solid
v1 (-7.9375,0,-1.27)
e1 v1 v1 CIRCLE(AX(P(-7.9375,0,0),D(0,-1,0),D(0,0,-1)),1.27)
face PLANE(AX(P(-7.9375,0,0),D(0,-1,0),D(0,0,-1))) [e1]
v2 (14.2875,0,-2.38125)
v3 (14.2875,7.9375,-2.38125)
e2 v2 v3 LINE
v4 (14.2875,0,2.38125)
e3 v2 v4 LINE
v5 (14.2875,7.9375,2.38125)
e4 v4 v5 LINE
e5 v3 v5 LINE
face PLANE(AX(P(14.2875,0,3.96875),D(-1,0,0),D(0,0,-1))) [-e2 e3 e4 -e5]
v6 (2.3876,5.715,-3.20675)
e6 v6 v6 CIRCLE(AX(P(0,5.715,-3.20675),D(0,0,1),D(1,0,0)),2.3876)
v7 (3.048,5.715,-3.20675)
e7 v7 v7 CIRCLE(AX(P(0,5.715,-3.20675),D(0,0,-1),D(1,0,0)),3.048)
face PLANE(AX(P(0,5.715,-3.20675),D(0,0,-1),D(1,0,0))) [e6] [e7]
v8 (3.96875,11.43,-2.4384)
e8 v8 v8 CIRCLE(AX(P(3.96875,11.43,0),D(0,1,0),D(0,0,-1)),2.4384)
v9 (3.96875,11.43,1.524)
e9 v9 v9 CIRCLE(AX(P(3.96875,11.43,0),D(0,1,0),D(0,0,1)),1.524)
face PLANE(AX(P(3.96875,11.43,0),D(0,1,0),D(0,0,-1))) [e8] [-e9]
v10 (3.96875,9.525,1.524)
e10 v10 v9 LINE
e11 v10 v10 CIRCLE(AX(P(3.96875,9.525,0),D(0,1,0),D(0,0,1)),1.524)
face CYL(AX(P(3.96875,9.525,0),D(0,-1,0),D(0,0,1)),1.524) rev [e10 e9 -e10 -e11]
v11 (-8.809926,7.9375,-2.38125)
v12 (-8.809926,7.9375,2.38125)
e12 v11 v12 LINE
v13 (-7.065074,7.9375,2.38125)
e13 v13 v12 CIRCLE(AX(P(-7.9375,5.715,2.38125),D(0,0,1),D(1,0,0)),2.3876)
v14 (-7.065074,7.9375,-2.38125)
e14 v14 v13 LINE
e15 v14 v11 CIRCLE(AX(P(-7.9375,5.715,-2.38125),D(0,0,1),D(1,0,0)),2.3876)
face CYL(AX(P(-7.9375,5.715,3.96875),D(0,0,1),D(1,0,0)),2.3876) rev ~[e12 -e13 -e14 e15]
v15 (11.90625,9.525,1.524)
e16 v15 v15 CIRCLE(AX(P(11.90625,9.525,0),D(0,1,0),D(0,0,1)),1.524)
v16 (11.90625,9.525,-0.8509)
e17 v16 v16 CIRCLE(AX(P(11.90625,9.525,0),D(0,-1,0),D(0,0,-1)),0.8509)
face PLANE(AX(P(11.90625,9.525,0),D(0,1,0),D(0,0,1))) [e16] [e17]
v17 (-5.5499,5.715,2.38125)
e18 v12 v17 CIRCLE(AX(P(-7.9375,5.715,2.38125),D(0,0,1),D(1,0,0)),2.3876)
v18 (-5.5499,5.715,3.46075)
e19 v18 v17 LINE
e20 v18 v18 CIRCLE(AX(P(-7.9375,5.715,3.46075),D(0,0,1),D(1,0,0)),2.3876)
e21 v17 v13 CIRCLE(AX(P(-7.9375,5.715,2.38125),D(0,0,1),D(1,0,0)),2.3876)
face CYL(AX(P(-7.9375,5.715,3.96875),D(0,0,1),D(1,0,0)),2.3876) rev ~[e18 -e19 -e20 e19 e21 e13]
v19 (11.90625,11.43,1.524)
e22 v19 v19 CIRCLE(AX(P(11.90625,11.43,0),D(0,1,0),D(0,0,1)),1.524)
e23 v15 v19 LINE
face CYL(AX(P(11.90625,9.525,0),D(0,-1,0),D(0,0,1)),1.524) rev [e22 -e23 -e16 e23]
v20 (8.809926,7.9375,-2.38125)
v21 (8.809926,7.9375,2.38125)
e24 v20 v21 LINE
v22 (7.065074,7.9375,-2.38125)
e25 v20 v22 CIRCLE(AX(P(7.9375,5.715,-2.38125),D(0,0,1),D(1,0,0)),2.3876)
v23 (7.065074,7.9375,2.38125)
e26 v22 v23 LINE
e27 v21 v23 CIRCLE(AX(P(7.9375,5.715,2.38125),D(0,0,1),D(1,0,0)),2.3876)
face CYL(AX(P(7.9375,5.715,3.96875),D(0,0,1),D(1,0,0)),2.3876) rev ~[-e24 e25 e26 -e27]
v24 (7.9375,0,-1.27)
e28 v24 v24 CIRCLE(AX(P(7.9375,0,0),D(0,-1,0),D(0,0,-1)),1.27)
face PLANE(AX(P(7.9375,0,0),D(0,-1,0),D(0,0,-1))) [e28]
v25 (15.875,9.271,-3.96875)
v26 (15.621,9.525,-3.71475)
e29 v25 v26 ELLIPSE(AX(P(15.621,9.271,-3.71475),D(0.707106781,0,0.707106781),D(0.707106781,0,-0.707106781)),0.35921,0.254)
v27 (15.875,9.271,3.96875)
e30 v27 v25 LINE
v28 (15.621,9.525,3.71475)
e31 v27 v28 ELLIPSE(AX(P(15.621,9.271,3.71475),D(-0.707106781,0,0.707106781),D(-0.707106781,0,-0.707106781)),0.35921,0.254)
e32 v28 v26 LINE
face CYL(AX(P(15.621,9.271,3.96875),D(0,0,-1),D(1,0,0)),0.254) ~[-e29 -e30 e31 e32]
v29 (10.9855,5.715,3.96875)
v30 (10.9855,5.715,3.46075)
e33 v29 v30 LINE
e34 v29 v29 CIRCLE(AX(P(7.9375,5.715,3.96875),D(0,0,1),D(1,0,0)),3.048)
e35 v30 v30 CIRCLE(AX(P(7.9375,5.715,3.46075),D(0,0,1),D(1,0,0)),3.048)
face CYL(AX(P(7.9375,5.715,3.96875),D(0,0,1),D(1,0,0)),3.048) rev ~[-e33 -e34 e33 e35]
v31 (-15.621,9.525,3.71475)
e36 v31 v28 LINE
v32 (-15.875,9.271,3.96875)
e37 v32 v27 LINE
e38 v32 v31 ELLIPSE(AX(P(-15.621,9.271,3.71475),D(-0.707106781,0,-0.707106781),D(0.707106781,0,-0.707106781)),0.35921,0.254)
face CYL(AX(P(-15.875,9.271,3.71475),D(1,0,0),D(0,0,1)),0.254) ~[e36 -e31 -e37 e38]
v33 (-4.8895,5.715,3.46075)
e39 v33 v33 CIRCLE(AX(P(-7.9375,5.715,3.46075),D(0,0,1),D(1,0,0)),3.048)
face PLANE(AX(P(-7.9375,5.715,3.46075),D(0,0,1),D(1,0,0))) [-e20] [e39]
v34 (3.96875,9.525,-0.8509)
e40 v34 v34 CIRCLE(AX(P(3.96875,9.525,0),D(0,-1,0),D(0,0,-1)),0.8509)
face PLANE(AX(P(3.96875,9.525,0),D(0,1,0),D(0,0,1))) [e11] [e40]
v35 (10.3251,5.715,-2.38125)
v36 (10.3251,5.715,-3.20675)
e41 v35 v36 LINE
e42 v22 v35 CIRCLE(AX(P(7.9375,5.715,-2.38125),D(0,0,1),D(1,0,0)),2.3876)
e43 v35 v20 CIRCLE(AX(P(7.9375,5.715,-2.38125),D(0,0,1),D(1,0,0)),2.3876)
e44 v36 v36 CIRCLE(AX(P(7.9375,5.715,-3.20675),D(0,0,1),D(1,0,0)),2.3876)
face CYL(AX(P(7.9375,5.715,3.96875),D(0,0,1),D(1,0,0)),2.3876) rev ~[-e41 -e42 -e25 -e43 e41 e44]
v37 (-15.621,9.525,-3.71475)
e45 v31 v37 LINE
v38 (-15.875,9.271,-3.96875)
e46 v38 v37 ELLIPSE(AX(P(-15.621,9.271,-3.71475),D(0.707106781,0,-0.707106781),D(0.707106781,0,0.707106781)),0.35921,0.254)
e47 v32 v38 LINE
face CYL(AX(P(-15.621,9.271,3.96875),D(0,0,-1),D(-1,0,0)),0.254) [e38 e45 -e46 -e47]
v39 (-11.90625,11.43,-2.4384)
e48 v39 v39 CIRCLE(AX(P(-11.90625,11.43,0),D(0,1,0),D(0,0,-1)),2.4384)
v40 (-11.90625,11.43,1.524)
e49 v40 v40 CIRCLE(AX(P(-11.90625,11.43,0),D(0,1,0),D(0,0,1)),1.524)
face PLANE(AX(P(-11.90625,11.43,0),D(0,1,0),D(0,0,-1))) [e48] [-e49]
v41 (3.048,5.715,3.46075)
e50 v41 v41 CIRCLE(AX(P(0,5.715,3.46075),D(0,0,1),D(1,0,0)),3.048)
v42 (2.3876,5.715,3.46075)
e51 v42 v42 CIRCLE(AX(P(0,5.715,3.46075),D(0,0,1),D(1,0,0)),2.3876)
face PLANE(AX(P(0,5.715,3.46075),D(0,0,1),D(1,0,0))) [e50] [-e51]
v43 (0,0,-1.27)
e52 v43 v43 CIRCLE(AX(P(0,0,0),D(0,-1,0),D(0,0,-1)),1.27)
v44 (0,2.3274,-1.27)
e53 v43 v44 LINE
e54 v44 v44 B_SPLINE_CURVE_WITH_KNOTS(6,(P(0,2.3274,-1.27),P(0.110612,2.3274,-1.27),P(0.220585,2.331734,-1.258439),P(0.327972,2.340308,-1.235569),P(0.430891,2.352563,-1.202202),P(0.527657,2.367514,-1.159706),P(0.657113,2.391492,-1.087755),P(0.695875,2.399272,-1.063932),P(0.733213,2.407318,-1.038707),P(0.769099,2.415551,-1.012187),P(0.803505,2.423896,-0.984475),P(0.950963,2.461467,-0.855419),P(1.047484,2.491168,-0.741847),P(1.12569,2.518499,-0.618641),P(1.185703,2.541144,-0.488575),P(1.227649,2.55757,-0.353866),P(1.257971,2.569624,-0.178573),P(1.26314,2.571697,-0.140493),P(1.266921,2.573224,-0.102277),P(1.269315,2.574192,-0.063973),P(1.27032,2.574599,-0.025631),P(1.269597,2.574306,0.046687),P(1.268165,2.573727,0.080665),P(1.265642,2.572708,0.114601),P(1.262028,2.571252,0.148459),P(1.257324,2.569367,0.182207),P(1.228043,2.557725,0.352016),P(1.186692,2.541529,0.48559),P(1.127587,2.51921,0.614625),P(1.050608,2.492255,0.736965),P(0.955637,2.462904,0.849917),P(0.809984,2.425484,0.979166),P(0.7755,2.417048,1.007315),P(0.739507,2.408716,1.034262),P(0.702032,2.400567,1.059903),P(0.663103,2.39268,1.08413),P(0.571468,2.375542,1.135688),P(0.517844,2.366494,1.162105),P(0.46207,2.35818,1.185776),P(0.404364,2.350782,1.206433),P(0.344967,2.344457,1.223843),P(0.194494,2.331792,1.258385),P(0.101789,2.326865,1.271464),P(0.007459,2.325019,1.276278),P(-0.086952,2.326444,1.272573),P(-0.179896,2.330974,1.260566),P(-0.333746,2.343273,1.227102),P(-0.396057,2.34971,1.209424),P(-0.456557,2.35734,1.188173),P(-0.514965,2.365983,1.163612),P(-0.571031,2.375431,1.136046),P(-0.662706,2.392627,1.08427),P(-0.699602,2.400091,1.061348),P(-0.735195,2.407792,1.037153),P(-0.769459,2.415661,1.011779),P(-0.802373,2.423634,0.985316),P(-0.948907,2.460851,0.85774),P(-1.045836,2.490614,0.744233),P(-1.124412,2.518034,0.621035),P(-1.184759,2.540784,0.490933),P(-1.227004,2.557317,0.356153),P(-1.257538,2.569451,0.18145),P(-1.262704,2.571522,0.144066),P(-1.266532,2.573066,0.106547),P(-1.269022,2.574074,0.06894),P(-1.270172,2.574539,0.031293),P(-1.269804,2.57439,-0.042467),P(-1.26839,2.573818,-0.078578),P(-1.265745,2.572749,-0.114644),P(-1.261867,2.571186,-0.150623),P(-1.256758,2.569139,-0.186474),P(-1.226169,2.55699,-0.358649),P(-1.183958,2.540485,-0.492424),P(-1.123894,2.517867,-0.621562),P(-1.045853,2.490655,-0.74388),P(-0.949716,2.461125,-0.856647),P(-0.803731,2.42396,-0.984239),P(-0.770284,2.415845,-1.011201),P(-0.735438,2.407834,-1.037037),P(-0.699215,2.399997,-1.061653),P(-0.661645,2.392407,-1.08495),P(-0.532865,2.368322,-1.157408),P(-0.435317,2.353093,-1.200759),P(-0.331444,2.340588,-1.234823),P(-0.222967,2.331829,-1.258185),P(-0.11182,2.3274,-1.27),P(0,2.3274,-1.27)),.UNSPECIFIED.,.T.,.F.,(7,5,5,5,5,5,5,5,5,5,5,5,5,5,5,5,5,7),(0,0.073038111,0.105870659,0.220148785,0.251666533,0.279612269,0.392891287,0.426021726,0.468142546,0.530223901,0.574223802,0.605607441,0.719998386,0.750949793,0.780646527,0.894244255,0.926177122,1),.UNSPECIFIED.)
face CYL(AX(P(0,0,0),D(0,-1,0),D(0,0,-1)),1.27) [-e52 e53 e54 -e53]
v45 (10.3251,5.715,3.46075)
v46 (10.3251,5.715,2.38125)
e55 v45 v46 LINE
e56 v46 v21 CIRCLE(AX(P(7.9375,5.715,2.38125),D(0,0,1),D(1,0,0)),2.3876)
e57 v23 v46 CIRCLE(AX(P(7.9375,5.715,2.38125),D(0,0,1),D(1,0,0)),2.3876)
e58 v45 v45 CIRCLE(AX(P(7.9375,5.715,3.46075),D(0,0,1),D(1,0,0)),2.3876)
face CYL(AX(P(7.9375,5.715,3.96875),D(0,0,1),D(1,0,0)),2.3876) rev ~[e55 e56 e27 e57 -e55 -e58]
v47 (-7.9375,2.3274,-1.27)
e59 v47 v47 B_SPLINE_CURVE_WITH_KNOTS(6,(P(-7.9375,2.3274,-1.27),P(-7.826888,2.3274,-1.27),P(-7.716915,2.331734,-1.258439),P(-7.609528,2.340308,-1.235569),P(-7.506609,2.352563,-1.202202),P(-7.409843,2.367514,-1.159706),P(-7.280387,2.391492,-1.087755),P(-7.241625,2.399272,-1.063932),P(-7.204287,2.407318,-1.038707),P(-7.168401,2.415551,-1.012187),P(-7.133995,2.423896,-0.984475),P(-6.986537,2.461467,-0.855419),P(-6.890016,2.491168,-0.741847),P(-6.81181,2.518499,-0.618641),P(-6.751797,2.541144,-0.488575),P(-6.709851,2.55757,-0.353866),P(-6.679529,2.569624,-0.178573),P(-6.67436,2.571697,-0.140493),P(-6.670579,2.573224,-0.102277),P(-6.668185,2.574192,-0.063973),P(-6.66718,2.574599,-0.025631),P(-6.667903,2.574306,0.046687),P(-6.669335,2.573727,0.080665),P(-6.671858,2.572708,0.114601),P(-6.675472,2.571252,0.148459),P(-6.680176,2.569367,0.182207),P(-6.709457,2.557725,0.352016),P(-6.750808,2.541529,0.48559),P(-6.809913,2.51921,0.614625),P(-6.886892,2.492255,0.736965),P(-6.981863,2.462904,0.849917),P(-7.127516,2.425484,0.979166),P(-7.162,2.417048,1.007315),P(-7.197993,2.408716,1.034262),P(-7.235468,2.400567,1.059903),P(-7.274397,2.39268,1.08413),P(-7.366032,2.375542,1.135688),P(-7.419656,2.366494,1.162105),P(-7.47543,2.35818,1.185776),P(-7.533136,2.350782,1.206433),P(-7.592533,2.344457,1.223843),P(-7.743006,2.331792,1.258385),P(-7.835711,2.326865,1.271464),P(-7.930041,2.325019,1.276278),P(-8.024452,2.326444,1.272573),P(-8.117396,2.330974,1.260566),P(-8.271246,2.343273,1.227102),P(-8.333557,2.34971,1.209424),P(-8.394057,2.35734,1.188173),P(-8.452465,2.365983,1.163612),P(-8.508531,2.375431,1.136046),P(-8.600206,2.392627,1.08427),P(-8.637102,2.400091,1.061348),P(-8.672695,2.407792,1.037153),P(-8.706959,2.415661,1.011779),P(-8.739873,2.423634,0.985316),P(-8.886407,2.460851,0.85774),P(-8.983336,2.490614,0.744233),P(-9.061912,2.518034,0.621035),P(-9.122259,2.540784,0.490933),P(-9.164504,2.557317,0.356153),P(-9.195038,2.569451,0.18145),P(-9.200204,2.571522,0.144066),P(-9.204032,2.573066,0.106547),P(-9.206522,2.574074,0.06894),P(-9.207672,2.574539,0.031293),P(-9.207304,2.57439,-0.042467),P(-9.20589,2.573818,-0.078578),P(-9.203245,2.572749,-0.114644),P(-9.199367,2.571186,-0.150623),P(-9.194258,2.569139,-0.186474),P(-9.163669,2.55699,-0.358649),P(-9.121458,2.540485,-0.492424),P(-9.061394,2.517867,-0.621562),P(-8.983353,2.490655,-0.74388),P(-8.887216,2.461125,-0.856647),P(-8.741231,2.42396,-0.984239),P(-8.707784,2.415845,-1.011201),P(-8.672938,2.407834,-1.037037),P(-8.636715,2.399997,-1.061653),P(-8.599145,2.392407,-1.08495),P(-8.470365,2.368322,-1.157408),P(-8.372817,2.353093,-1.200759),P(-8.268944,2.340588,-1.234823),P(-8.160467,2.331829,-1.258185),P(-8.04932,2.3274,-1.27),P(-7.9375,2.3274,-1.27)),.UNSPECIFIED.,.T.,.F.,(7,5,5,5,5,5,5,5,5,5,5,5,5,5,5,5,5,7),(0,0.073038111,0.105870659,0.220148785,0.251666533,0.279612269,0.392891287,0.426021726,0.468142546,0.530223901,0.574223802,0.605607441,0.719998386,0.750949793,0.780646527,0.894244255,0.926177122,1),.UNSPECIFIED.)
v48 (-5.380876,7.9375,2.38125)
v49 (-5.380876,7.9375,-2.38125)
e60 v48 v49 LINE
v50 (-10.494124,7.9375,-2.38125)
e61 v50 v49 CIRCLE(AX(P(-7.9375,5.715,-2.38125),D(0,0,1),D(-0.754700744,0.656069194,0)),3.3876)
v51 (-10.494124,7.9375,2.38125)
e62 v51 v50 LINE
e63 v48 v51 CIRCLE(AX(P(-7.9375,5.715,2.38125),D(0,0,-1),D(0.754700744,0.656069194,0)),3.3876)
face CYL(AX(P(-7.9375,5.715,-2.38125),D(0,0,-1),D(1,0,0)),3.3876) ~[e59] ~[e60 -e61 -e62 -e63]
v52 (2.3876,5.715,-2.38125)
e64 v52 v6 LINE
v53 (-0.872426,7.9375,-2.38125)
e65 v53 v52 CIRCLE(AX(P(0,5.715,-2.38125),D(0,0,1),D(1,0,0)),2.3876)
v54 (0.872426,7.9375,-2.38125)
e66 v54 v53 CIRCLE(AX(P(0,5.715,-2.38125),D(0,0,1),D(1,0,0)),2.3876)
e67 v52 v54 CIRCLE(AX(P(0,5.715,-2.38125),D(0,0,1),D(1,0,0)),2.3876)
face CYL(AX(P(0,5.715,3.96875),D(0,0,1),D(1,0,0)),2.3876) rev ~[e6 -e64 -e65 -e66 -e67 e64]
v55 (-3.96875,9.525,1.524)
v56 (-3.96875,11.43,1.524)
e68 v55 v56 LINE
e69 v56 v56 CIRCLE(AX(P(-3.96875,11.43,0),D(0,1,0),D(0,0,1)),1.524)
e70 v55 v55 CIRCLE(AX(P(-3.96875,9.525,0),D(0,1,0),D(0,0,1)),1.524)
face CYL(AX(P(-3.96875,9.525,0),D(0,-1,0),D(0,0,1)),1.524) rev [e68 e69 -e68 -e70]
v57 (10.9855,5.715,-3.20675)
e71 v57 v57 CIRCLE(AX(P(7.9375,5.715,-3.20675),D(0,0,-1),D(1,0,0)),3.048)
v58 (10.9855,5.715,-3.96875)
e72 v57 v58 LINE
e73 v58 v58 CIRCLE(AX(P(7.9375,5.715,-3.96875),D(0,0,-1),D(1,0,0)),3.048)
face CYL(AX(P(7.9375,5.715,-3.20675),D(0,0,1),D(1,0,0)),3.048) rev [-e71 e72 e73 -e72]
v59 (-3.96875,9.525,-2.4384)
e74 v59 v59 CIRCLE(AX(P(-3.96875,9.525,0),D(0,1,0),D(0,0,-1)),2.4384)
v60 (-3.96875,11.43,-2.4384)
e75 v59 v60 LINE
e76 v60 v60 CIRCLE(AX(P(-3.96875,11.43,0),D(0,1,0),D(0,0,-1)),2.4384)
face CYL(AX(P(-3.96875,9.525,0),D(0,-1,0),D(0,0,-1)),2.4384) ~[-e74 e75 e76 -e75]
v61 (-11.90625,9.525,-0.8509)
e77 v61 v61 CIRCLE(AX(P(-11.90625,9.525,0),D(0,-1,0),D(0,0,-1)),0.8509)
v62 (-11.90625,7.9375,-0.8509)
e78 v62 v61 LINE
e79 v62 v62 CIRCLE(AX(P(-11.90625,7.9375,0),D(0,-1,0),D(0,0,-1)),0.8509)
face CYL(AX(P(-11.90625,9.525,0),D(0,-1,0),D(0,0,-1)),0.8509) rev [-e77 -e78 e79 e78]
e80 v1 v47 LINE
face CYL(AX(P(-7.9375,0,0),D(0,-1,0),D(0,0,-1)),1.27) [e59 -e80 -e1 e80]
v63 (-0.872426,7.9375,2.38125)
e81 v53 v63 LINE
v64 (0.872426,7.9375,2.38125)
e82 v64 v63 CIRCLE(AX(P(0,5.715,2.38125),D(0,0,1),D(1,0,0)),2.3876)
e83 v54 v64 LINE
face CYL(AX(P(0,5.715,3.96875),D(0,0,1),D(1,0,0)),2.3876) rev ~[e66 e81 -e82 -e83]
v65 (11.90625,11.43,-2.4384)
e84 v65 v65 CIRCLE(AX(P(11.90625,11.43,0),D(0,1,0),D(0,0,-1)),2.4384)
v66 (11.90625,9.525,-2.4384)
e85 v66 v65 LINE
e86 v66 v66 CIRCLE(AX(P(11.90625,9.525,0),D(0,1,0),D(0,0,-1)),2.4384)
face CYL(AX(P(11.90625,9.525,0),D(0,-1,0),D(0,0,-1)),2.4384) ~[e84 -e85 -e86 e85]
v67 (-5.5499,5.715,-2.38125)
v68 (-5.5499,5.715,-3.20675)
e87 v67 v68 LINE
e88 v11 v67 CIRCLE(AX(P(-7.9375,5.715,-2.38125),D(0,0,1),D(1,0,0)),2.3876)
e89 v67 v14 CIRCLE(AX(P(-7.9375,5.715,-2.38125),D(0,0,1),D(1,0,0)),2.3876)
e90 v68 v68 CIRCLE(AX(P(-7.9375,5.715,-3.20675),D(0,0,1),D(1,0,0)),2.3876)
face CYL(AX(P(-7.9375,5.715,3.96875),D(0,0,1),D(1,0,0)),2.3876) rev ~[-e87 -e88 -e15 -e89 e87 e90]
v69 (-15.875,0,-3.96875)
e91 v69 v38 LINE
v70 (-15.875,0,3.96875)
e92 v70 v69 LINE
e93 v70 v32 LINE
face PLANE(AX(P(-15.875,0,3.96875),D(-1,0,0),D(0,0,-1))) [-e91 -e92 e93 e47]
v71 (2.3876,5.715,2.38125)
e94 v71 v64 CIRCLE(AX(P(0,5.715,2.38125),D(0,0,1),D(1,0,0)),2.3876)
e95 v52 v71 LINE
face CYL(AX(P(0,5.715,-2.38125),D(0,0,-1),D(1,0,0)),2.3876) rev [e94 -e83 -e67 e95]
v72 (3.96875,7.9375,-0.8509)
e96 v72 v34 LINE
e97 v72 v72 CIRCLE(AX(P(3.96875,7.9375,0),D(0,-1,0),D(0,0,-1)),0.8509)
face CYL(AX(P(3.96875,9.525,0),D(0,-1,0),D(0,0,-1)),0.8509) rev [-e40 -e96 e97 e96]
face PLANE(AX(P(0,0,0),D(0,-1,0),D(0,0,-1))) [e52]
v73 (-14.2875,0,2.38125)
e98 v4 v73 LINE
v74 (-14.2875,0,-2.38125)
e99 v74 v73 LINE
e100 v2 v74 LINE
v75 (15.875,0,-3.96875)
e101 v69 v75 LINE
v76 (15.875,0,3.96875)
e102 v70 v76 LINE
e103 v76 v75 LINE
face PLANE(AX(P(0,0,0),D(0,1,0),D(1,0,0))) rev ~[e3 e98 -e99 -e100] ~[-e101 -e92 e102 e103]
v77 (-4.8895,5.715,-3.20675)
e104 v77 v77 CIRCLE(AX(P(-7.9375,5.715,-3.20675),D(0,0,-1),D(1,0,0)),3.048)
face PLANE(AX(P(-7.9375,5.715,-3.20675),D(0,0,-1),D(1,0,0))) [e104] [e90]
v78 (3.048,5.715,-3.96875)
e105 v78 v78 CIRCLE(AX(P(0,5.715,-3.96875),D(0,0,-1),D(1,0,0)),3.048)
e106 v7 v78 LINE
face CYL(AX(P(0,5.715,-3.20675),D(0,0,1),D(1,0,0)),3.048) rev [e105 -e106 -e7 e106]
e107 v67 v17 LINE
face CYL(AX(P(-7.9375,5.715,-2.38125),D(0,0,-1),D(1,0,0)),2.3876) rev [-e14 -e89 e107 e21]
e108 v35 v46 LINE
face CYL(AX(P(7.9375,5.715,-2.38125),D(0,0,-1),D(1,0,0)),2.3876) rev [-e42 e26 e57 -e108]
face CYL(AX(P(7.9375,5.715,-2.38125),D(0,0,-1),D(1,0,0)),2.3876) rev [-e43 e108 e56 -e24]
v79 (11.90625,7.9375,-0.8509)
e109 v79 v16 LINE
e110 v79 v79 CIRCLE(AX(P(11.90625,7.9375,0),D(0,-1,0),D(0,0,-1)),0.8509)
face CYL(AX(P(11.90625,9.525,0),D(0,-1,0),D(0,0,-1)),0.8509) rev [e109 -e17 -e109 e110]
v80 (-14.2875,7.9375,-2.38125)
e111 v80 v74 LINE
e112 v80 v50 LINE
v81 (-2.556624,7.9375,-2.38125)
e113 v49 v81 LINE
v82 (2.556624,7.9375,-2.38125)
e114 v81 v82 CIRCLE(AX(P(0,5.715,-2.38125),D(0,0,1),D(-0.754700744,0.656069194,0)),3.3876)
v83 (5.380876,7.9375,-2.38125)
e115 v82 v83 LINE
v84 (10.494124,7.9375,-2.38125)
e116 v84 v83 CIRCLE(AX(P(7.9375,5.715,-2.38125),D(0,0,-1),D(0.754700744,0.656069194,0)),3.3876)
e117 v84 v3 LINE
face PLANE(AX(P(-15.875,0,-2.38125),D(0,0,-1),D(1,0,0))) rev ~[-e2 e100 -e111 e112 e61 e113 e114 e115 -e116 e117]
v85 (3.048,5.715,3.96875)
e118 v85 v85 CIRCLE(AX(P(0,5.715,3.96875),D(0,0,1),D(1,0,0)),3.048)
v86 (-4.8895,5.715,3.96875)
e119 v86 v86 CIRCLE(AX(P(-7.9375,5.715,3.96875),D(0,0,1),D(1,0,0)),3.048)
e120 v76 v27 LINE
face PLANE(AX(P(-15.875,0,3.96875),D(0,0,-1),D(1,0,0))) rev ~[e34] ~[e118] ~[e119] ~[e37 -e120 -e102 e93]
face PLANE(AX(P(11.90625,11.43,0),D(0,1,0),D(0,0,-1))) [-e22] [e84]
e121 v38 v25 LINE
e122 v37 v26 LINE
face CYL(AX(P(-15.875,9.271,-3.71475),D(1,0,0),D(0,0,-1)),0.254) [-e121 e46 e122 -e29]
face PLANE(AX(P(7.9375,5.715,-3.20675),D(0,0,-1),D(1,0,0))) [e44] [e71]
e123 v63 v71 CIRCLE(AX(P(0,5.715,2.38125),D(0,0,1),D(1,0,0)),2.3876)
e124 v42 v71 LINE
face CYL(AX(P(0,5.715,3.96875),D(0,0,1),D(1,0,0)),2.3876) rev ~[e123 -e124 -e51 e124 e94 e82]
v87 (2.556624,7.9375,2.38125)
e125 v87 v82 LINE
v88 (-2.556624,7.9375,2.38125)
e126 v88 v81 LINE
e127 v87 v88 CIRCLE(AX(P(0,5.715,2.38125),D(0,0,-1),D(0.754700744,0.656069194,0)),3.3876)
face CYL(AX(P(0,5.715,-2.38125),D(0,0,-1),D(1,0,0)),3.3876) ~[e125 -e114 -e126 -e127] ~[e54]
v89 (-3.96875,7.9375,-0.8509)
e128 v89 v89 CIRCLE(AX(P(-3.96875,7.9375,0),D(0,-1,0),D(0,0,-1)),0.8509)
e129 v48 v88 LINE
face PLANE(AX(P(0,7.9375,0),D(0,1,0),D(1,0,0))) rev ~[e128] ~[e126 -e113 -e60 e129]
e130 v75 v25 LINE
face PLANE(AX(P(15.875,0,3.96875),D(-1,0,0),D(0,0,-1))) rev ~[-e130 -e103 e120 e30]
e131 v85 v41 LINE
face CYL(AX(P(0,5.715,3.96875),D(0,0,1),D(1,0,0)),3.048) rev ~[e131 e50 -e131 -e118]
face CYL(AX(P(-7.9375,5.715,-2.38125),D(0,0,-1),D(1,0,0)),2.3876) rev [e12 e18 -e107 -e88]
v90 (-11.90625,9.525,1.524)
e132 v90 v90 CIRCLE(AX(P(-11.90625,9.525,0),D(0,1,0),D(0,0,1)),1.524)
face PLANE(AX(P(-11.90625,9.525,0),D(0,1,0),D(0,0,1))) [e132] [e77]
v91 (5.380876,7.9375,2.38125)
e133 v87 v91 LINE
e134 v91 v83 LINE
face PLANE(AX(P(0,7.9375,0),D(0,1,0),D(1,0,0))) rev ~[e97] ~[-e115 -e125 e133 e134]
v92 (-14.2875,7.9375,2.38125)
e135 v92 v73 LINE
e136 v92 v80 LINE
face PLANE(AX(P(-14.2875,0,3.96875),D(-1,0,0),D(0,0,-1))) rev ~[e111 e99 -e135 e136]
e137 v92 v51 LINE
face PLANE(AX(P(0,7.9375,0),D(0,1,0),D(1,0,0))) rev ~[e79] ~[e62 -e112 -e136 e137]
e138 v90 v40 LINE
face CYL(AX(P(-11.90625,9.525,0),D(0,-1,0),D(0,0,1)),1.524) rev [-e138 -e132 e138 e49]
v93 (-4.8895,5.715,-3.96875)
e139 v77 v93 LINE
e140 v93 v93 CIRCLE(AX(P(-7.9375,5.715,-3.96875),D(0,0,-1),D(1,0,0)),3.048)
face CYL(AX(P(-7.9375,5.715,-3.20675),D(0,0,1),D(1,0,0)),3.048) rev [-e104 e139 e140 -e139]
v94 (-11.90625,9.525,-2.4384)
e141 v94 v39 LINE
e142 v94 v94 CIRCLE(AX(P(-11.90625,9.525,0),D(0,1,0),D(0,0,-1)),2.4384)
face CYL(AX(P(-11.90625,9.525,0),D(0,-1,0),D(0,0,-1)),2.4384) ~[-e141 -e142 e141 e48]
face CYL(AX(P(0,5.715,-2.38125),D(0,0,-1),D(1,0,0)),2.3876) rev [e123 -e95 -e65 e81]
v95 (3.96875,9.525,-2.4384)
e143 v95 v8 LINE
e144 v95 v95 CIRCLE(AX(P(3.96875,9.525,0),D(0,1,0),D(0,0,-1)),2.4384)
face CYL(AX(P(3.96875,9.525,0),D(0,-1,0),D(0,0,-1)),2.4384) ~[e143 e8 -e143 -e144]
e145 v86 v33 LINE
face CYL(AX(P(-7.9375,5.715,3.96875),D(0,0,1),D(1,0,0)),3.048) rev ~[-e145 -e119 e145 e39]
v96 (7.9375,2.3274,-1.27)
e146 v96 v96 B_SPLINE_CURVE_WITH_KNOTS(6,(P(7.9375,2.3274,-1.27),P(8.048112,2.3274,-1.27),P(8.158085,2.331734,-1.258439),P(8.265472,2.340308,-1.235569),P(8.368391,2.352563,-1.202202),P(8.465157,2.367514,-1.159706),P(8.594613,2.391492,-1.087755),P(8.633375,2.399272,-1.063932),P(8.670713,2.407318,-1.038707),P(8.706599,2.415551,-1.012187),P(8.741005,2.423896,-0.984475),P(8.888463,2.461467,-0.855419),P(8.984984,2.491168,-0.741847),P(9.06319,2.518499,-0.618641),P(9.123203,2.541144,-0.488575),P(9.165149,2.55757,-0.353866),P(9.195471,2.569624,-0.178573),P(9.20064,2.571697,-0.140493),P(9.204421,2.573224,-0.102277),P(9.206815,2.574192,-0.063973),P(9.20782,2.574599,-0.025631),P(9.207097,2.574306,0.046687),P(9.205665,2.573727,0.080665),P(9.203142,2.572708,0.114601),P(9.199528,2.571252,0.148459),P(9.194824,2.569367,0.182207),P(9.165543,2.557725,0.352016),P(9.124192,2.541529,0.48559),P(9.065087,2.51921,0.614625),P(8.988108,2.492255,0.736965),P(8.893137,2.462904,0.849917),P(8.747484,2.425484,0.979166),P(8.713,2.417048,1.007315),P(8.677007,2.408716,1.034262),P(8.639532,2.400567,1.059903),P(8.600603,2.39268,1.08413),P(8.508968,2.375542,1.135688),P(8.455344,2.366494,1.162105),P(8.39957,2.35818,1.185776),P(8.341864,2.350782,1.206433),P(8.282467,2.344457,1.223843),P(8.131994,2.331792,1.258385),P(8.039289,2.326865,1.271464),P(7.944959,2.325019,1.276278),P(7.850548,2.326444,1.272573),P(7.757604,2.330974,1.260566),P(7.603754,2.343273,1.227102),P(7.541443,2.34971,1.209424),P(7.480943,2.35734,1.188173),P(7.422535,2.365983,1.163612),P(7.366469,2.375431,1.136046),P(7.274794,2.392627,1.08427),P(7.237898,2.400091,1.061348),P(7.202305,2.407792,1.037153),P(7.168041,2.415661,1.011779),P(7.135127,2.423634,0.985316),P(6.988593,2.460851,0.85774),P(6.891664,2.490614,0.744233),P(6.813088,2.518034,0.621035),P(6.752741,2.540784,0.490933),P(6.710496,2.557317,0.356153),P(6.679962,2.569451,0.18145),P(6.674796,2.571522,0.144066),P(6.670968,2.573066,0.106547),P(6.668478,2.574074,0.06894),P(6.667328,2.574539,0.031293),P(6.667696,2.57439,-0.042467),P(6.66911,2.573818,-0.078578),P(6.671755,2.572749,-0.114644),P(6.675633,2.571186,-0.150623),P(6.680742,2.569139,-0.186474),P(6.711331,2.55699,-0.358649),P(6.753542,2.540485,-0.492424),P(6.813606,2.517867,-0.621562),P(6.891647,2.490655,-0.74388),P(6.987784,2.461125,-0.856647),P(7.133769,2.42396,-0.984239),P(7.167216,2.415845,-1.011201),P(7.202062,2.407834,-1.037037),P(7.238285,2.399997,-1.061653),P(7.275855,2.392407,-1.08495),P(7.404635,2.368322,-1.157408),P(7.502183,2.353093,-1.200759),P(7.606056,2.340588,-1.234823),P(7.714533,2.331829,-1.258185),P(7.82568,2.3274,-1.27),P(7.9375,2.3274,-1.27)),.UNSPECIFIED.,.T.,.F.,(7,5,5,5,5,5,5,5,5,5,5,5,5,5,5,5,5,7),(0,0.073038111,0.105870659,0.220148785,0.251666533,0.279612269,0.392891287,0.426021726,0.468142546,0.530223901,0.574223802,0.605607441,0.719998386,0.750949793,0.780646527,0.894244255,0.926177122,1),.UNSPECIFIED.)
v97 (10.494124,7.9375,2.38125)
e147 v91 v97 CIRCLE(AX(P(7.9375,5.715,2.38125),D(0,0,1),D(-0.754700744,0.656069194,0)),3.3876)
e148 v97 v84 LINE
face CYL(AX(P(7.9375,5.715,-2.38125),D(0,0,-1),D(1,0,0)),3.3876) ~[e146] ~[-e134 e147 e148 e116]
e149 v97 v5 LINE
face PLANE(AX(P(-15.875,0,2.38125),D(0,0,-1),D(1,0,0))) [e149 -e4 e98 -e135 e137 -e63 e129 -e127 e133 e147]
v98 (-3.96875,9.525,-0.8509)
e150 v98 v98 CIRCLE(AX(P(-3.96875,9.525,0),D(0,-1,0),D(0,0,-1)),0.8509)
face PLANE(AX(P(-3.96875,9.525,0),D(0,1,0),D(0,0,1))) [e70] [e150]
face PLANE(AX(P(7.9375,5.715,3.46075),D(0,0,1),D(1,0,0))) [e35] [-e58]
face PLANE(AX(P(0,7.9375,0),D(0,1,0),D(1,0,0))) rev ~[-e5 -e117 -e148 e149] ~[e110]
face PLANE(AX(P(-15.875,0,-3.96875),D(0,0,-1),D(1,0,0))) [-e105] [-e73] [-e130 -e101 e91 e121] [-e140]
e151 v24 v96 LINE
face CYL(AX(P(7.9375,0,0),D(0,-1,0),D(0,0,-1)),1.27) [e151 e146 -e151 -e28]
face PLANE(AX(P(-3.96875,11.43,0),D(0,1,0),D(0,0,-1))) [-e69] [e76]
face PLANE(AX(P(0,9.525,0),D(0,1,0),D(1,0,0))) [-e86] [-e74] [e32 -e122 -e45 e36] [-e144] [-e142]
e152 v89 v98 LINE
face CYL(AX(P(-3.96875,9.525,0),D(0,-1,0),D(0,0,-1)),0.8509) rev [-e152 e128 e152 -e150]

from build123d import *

# Parameters (mm, degrees)
SKETCH1_W                = 31.75
SKETCH1_H                = 7.9375
BASE_EXTRUDE_DEPTH       = 9.525
SKETCH2_R                = 2.4384
BOSS_EXTRUDE1_DEPTH      = 1.905
LPATTERN4_COUNT          = 4
LPATTERN4_PITCH          = 7.9375
SHELL1_T                 = -1.5875
SKETCH5_R                = 2.3876
CUT_EXTRUDE1_DEPTH       = 22.110765767
SKETCH6_R                = 3.048
CBORE1_DEPTH             = 0.508
CBORE2_START             = -0.762
SKETCH7_R                = 3.048
CBORE2_DEPTH             = 0.762
BOSS_EXTRUDE_THIN1_START = -5.842
SKETCH8_R                = 3.3876
SKETCH8_R_2              = 2.3876
BOSS_EXTRUDE_THIN1_DEPTH = 4.7625
LPATTERN7_COUNT          = 3
LPATTERN7_PITCH          = 7.9375
INSDOT2_REACH            = 21.96
INSDOT2_END_RADIUS       = 3.3876
SKETCH4_R                = 1.27
LPATTERN6_COUNT          = 3
LPATTERN6_PITCH          = 7.9375
CUT_EXTRUDE2_START       = -1.905
SKETCH10_R               = 1.524
CUT_EXTRUDE2_DEPTH       = 1.905
LPATTERN8_COUNT          = 4
LPATTERN8_PITCH          = 7.9375
FILLET1_R                = 0.254


with BuildPart() as part:
    # Sketch1 → Base-Extrude (new body)
    with BuildSketch(Plane(origin=(0, 0, 0), x_dir=(1, 0, 0), z_dir=(0, 1, 0))):
        Rectangle(SKETCH1_W, SKETCH1_H)
    extrude(amount=BASE_EXTRUDE_DEPTH)

    # Sketch2 → Boss-Extrude1 (add)
    with BuildSketch(Plane(origin=(0, 9.525, 0), x_dir=(-1, 0, 0), z_dir=(0, 1, 0))):
        with Locations(Location((11.90625, 0, 0), (0, 0, 270))):
            Circle(SKETCH2_R)
    boss_extrude1 = extrude(amount=BOSS_EXTRUDE1_DEPTH)

    # LPattern4: Boss-Extrude1 ×4
    with Locations(*[(i * LPATTERN4_PITCH, 0, 0) for i in range(1, LPATTERN4_COUNT)]):
        add(boss_extrude1)

    # Shell1
    shell1_openings = [part.faces().sort_by_distance(p)[0] for p in [
        (0, 0, 0),
    ]]
    offset(amount=SHELL1_T, openings=shell1_openings, kind=Kind.INTERSECTION)

    # Sketch5 → Cut-Extrude1 (cut, through all)
    with BuildSketch(Plane.XY.offset(3.96875)):
        with Locations((-7.9375, 5.715)):
            Circle(SKETCH5_R)
    cut_extrude1 = extrude(amount=-CUT_EXTRUDE1_DEPTH, mode=Mode.SUBTRACT)

    # Sketch6 → cbore1 (cut)
    with BuildSketch(Plane.XY.offset(3.96875)):
        with Locations((-7.9375, 5.715)):
            Circle(SKETCH6_R)
    cbore1 = extrude(amount=-CBORE1_DEPTH, mode=Mode.SUBTRACT)

    # Sketch7 → cbore2 (cut)
    with BuildSketch(Plane(origin=(0, 0, -3.96875), x_dir=(-1, 0, 0), z_dir=(0, 0, -1)).offset(CBORE2_START)):
        with Locations(Location((7.9375, 5.715, 0), (0, 0, 180))):
            Circle(SKETCH7_R)
    cbore2 = extrude(amount=CBORE2_DEPTH, mode=Mode.SUBTRACT)

    # Sketch8 → Boss-Extrude-Thin1 (add)
    with BuildSketch(Plane.XY.offset(3.46075).offset(BOSS_EXTRUDE_THIN1_START)):
        with Locations((-7.9375, 5.715)):
            Circle(SKETCH8_R)
        with Locations((-7.9375, 5.715)):
            Circle(SKETCH8_R_2, mode=Mode.SUBTRACT)
    boss_extrude_thin1 = extrude(amount=BOSS_EXTRUDE_THIN1_DEPTH)

    # LPattern7: Cut-Extrude1, cbore1, cbore2, Boss-Extrude-Thin1 ×3
    with Locations(*[(i * LPATTERN7_PITCH, 0, 0) for i in range(1, LPATTERN7_COUNT)]):
        add(cut_extrude1, mode=Mode.SUBTRACT)
        add(cbore1, mode=Mode.SUBTRACT)
        add(cbore2, mode=Mode.SUBTRACT)
        add(boss_extrude_thin1)

    # InsDot2: up to this cylinder (the profile starts outside it)
    insdot2_end = Plane(origin=(7.9375, 5.715, 0), z_dir=(0, 0, 1)) * Cylinder(INSDOT2_END_RADIUS, 51.6952, mode=Mode.PRIVATE)
    # Sketch4 → InsDot2 (add, up to the surface)
    with BuildSketch(Plane.XZ, mode=Mode.PRIVATE) as insdot2_sk1:
        with Locations(Location((7.9375, 0, 0), (0, 0, 270))):
            Circle(SKETCH4_R)
    insdot2_tool1 = extrude(insdot2_sk1.sketch, amount=-INSDOT2_REACH, mode=Mode.PRIVATE) - insdot2_end
    insdot2 = insdot2_tool1.solids().sort_by_distance((7.9375, 0, 0))[0]
    add(insdot2)

    # LPattern6: InsDot2 ×3
    with Locations(*[(-i * LPATTERN6_PITCH, 0, 0) for i in range(1, LPATTERN6_COUNT)]):
        add(insdot2)

    # Sketch10 → Cut-Extrude2 (cut)
    with BuildSketch(Plane(origin=(0, 11.43, 0), x_dir=(-1, 0, 0), z_dir=(0, 1, 0)).offset(CUT_EXTRUDE2_START)):
        with Locations(Location((11.90625, 0, 0), (0, 0, 90))):
            Circle(SKETCH10_R)
    cut_extrude2 = extrude(amount=CUT_EXTRUDE2_DEPTH, mode=Mode.SUBTRACT)

    # LPattern8: Cut-Extrude2 ×4
    with Locations(*[(i * LPATTERN8_PITCH, 0, 0) for i in range(1, LPATTERN8_COUNT)]):
        add(cut_extrude2, mode=Mode.SUBTRACT)

    # Fillet1
    fillet1_edges = [part.edges().sort_by_distance(p)[0] for p in [
        (15.875, 9.525, 0),
        (0, 9.525, -3.96875),
        (-15.875, 9.525, 0),
        (0, 9.525, 3.96875),
    ]]
    fillet(fillet1_edges, radius=FILLET1_R)


solid = part.part
